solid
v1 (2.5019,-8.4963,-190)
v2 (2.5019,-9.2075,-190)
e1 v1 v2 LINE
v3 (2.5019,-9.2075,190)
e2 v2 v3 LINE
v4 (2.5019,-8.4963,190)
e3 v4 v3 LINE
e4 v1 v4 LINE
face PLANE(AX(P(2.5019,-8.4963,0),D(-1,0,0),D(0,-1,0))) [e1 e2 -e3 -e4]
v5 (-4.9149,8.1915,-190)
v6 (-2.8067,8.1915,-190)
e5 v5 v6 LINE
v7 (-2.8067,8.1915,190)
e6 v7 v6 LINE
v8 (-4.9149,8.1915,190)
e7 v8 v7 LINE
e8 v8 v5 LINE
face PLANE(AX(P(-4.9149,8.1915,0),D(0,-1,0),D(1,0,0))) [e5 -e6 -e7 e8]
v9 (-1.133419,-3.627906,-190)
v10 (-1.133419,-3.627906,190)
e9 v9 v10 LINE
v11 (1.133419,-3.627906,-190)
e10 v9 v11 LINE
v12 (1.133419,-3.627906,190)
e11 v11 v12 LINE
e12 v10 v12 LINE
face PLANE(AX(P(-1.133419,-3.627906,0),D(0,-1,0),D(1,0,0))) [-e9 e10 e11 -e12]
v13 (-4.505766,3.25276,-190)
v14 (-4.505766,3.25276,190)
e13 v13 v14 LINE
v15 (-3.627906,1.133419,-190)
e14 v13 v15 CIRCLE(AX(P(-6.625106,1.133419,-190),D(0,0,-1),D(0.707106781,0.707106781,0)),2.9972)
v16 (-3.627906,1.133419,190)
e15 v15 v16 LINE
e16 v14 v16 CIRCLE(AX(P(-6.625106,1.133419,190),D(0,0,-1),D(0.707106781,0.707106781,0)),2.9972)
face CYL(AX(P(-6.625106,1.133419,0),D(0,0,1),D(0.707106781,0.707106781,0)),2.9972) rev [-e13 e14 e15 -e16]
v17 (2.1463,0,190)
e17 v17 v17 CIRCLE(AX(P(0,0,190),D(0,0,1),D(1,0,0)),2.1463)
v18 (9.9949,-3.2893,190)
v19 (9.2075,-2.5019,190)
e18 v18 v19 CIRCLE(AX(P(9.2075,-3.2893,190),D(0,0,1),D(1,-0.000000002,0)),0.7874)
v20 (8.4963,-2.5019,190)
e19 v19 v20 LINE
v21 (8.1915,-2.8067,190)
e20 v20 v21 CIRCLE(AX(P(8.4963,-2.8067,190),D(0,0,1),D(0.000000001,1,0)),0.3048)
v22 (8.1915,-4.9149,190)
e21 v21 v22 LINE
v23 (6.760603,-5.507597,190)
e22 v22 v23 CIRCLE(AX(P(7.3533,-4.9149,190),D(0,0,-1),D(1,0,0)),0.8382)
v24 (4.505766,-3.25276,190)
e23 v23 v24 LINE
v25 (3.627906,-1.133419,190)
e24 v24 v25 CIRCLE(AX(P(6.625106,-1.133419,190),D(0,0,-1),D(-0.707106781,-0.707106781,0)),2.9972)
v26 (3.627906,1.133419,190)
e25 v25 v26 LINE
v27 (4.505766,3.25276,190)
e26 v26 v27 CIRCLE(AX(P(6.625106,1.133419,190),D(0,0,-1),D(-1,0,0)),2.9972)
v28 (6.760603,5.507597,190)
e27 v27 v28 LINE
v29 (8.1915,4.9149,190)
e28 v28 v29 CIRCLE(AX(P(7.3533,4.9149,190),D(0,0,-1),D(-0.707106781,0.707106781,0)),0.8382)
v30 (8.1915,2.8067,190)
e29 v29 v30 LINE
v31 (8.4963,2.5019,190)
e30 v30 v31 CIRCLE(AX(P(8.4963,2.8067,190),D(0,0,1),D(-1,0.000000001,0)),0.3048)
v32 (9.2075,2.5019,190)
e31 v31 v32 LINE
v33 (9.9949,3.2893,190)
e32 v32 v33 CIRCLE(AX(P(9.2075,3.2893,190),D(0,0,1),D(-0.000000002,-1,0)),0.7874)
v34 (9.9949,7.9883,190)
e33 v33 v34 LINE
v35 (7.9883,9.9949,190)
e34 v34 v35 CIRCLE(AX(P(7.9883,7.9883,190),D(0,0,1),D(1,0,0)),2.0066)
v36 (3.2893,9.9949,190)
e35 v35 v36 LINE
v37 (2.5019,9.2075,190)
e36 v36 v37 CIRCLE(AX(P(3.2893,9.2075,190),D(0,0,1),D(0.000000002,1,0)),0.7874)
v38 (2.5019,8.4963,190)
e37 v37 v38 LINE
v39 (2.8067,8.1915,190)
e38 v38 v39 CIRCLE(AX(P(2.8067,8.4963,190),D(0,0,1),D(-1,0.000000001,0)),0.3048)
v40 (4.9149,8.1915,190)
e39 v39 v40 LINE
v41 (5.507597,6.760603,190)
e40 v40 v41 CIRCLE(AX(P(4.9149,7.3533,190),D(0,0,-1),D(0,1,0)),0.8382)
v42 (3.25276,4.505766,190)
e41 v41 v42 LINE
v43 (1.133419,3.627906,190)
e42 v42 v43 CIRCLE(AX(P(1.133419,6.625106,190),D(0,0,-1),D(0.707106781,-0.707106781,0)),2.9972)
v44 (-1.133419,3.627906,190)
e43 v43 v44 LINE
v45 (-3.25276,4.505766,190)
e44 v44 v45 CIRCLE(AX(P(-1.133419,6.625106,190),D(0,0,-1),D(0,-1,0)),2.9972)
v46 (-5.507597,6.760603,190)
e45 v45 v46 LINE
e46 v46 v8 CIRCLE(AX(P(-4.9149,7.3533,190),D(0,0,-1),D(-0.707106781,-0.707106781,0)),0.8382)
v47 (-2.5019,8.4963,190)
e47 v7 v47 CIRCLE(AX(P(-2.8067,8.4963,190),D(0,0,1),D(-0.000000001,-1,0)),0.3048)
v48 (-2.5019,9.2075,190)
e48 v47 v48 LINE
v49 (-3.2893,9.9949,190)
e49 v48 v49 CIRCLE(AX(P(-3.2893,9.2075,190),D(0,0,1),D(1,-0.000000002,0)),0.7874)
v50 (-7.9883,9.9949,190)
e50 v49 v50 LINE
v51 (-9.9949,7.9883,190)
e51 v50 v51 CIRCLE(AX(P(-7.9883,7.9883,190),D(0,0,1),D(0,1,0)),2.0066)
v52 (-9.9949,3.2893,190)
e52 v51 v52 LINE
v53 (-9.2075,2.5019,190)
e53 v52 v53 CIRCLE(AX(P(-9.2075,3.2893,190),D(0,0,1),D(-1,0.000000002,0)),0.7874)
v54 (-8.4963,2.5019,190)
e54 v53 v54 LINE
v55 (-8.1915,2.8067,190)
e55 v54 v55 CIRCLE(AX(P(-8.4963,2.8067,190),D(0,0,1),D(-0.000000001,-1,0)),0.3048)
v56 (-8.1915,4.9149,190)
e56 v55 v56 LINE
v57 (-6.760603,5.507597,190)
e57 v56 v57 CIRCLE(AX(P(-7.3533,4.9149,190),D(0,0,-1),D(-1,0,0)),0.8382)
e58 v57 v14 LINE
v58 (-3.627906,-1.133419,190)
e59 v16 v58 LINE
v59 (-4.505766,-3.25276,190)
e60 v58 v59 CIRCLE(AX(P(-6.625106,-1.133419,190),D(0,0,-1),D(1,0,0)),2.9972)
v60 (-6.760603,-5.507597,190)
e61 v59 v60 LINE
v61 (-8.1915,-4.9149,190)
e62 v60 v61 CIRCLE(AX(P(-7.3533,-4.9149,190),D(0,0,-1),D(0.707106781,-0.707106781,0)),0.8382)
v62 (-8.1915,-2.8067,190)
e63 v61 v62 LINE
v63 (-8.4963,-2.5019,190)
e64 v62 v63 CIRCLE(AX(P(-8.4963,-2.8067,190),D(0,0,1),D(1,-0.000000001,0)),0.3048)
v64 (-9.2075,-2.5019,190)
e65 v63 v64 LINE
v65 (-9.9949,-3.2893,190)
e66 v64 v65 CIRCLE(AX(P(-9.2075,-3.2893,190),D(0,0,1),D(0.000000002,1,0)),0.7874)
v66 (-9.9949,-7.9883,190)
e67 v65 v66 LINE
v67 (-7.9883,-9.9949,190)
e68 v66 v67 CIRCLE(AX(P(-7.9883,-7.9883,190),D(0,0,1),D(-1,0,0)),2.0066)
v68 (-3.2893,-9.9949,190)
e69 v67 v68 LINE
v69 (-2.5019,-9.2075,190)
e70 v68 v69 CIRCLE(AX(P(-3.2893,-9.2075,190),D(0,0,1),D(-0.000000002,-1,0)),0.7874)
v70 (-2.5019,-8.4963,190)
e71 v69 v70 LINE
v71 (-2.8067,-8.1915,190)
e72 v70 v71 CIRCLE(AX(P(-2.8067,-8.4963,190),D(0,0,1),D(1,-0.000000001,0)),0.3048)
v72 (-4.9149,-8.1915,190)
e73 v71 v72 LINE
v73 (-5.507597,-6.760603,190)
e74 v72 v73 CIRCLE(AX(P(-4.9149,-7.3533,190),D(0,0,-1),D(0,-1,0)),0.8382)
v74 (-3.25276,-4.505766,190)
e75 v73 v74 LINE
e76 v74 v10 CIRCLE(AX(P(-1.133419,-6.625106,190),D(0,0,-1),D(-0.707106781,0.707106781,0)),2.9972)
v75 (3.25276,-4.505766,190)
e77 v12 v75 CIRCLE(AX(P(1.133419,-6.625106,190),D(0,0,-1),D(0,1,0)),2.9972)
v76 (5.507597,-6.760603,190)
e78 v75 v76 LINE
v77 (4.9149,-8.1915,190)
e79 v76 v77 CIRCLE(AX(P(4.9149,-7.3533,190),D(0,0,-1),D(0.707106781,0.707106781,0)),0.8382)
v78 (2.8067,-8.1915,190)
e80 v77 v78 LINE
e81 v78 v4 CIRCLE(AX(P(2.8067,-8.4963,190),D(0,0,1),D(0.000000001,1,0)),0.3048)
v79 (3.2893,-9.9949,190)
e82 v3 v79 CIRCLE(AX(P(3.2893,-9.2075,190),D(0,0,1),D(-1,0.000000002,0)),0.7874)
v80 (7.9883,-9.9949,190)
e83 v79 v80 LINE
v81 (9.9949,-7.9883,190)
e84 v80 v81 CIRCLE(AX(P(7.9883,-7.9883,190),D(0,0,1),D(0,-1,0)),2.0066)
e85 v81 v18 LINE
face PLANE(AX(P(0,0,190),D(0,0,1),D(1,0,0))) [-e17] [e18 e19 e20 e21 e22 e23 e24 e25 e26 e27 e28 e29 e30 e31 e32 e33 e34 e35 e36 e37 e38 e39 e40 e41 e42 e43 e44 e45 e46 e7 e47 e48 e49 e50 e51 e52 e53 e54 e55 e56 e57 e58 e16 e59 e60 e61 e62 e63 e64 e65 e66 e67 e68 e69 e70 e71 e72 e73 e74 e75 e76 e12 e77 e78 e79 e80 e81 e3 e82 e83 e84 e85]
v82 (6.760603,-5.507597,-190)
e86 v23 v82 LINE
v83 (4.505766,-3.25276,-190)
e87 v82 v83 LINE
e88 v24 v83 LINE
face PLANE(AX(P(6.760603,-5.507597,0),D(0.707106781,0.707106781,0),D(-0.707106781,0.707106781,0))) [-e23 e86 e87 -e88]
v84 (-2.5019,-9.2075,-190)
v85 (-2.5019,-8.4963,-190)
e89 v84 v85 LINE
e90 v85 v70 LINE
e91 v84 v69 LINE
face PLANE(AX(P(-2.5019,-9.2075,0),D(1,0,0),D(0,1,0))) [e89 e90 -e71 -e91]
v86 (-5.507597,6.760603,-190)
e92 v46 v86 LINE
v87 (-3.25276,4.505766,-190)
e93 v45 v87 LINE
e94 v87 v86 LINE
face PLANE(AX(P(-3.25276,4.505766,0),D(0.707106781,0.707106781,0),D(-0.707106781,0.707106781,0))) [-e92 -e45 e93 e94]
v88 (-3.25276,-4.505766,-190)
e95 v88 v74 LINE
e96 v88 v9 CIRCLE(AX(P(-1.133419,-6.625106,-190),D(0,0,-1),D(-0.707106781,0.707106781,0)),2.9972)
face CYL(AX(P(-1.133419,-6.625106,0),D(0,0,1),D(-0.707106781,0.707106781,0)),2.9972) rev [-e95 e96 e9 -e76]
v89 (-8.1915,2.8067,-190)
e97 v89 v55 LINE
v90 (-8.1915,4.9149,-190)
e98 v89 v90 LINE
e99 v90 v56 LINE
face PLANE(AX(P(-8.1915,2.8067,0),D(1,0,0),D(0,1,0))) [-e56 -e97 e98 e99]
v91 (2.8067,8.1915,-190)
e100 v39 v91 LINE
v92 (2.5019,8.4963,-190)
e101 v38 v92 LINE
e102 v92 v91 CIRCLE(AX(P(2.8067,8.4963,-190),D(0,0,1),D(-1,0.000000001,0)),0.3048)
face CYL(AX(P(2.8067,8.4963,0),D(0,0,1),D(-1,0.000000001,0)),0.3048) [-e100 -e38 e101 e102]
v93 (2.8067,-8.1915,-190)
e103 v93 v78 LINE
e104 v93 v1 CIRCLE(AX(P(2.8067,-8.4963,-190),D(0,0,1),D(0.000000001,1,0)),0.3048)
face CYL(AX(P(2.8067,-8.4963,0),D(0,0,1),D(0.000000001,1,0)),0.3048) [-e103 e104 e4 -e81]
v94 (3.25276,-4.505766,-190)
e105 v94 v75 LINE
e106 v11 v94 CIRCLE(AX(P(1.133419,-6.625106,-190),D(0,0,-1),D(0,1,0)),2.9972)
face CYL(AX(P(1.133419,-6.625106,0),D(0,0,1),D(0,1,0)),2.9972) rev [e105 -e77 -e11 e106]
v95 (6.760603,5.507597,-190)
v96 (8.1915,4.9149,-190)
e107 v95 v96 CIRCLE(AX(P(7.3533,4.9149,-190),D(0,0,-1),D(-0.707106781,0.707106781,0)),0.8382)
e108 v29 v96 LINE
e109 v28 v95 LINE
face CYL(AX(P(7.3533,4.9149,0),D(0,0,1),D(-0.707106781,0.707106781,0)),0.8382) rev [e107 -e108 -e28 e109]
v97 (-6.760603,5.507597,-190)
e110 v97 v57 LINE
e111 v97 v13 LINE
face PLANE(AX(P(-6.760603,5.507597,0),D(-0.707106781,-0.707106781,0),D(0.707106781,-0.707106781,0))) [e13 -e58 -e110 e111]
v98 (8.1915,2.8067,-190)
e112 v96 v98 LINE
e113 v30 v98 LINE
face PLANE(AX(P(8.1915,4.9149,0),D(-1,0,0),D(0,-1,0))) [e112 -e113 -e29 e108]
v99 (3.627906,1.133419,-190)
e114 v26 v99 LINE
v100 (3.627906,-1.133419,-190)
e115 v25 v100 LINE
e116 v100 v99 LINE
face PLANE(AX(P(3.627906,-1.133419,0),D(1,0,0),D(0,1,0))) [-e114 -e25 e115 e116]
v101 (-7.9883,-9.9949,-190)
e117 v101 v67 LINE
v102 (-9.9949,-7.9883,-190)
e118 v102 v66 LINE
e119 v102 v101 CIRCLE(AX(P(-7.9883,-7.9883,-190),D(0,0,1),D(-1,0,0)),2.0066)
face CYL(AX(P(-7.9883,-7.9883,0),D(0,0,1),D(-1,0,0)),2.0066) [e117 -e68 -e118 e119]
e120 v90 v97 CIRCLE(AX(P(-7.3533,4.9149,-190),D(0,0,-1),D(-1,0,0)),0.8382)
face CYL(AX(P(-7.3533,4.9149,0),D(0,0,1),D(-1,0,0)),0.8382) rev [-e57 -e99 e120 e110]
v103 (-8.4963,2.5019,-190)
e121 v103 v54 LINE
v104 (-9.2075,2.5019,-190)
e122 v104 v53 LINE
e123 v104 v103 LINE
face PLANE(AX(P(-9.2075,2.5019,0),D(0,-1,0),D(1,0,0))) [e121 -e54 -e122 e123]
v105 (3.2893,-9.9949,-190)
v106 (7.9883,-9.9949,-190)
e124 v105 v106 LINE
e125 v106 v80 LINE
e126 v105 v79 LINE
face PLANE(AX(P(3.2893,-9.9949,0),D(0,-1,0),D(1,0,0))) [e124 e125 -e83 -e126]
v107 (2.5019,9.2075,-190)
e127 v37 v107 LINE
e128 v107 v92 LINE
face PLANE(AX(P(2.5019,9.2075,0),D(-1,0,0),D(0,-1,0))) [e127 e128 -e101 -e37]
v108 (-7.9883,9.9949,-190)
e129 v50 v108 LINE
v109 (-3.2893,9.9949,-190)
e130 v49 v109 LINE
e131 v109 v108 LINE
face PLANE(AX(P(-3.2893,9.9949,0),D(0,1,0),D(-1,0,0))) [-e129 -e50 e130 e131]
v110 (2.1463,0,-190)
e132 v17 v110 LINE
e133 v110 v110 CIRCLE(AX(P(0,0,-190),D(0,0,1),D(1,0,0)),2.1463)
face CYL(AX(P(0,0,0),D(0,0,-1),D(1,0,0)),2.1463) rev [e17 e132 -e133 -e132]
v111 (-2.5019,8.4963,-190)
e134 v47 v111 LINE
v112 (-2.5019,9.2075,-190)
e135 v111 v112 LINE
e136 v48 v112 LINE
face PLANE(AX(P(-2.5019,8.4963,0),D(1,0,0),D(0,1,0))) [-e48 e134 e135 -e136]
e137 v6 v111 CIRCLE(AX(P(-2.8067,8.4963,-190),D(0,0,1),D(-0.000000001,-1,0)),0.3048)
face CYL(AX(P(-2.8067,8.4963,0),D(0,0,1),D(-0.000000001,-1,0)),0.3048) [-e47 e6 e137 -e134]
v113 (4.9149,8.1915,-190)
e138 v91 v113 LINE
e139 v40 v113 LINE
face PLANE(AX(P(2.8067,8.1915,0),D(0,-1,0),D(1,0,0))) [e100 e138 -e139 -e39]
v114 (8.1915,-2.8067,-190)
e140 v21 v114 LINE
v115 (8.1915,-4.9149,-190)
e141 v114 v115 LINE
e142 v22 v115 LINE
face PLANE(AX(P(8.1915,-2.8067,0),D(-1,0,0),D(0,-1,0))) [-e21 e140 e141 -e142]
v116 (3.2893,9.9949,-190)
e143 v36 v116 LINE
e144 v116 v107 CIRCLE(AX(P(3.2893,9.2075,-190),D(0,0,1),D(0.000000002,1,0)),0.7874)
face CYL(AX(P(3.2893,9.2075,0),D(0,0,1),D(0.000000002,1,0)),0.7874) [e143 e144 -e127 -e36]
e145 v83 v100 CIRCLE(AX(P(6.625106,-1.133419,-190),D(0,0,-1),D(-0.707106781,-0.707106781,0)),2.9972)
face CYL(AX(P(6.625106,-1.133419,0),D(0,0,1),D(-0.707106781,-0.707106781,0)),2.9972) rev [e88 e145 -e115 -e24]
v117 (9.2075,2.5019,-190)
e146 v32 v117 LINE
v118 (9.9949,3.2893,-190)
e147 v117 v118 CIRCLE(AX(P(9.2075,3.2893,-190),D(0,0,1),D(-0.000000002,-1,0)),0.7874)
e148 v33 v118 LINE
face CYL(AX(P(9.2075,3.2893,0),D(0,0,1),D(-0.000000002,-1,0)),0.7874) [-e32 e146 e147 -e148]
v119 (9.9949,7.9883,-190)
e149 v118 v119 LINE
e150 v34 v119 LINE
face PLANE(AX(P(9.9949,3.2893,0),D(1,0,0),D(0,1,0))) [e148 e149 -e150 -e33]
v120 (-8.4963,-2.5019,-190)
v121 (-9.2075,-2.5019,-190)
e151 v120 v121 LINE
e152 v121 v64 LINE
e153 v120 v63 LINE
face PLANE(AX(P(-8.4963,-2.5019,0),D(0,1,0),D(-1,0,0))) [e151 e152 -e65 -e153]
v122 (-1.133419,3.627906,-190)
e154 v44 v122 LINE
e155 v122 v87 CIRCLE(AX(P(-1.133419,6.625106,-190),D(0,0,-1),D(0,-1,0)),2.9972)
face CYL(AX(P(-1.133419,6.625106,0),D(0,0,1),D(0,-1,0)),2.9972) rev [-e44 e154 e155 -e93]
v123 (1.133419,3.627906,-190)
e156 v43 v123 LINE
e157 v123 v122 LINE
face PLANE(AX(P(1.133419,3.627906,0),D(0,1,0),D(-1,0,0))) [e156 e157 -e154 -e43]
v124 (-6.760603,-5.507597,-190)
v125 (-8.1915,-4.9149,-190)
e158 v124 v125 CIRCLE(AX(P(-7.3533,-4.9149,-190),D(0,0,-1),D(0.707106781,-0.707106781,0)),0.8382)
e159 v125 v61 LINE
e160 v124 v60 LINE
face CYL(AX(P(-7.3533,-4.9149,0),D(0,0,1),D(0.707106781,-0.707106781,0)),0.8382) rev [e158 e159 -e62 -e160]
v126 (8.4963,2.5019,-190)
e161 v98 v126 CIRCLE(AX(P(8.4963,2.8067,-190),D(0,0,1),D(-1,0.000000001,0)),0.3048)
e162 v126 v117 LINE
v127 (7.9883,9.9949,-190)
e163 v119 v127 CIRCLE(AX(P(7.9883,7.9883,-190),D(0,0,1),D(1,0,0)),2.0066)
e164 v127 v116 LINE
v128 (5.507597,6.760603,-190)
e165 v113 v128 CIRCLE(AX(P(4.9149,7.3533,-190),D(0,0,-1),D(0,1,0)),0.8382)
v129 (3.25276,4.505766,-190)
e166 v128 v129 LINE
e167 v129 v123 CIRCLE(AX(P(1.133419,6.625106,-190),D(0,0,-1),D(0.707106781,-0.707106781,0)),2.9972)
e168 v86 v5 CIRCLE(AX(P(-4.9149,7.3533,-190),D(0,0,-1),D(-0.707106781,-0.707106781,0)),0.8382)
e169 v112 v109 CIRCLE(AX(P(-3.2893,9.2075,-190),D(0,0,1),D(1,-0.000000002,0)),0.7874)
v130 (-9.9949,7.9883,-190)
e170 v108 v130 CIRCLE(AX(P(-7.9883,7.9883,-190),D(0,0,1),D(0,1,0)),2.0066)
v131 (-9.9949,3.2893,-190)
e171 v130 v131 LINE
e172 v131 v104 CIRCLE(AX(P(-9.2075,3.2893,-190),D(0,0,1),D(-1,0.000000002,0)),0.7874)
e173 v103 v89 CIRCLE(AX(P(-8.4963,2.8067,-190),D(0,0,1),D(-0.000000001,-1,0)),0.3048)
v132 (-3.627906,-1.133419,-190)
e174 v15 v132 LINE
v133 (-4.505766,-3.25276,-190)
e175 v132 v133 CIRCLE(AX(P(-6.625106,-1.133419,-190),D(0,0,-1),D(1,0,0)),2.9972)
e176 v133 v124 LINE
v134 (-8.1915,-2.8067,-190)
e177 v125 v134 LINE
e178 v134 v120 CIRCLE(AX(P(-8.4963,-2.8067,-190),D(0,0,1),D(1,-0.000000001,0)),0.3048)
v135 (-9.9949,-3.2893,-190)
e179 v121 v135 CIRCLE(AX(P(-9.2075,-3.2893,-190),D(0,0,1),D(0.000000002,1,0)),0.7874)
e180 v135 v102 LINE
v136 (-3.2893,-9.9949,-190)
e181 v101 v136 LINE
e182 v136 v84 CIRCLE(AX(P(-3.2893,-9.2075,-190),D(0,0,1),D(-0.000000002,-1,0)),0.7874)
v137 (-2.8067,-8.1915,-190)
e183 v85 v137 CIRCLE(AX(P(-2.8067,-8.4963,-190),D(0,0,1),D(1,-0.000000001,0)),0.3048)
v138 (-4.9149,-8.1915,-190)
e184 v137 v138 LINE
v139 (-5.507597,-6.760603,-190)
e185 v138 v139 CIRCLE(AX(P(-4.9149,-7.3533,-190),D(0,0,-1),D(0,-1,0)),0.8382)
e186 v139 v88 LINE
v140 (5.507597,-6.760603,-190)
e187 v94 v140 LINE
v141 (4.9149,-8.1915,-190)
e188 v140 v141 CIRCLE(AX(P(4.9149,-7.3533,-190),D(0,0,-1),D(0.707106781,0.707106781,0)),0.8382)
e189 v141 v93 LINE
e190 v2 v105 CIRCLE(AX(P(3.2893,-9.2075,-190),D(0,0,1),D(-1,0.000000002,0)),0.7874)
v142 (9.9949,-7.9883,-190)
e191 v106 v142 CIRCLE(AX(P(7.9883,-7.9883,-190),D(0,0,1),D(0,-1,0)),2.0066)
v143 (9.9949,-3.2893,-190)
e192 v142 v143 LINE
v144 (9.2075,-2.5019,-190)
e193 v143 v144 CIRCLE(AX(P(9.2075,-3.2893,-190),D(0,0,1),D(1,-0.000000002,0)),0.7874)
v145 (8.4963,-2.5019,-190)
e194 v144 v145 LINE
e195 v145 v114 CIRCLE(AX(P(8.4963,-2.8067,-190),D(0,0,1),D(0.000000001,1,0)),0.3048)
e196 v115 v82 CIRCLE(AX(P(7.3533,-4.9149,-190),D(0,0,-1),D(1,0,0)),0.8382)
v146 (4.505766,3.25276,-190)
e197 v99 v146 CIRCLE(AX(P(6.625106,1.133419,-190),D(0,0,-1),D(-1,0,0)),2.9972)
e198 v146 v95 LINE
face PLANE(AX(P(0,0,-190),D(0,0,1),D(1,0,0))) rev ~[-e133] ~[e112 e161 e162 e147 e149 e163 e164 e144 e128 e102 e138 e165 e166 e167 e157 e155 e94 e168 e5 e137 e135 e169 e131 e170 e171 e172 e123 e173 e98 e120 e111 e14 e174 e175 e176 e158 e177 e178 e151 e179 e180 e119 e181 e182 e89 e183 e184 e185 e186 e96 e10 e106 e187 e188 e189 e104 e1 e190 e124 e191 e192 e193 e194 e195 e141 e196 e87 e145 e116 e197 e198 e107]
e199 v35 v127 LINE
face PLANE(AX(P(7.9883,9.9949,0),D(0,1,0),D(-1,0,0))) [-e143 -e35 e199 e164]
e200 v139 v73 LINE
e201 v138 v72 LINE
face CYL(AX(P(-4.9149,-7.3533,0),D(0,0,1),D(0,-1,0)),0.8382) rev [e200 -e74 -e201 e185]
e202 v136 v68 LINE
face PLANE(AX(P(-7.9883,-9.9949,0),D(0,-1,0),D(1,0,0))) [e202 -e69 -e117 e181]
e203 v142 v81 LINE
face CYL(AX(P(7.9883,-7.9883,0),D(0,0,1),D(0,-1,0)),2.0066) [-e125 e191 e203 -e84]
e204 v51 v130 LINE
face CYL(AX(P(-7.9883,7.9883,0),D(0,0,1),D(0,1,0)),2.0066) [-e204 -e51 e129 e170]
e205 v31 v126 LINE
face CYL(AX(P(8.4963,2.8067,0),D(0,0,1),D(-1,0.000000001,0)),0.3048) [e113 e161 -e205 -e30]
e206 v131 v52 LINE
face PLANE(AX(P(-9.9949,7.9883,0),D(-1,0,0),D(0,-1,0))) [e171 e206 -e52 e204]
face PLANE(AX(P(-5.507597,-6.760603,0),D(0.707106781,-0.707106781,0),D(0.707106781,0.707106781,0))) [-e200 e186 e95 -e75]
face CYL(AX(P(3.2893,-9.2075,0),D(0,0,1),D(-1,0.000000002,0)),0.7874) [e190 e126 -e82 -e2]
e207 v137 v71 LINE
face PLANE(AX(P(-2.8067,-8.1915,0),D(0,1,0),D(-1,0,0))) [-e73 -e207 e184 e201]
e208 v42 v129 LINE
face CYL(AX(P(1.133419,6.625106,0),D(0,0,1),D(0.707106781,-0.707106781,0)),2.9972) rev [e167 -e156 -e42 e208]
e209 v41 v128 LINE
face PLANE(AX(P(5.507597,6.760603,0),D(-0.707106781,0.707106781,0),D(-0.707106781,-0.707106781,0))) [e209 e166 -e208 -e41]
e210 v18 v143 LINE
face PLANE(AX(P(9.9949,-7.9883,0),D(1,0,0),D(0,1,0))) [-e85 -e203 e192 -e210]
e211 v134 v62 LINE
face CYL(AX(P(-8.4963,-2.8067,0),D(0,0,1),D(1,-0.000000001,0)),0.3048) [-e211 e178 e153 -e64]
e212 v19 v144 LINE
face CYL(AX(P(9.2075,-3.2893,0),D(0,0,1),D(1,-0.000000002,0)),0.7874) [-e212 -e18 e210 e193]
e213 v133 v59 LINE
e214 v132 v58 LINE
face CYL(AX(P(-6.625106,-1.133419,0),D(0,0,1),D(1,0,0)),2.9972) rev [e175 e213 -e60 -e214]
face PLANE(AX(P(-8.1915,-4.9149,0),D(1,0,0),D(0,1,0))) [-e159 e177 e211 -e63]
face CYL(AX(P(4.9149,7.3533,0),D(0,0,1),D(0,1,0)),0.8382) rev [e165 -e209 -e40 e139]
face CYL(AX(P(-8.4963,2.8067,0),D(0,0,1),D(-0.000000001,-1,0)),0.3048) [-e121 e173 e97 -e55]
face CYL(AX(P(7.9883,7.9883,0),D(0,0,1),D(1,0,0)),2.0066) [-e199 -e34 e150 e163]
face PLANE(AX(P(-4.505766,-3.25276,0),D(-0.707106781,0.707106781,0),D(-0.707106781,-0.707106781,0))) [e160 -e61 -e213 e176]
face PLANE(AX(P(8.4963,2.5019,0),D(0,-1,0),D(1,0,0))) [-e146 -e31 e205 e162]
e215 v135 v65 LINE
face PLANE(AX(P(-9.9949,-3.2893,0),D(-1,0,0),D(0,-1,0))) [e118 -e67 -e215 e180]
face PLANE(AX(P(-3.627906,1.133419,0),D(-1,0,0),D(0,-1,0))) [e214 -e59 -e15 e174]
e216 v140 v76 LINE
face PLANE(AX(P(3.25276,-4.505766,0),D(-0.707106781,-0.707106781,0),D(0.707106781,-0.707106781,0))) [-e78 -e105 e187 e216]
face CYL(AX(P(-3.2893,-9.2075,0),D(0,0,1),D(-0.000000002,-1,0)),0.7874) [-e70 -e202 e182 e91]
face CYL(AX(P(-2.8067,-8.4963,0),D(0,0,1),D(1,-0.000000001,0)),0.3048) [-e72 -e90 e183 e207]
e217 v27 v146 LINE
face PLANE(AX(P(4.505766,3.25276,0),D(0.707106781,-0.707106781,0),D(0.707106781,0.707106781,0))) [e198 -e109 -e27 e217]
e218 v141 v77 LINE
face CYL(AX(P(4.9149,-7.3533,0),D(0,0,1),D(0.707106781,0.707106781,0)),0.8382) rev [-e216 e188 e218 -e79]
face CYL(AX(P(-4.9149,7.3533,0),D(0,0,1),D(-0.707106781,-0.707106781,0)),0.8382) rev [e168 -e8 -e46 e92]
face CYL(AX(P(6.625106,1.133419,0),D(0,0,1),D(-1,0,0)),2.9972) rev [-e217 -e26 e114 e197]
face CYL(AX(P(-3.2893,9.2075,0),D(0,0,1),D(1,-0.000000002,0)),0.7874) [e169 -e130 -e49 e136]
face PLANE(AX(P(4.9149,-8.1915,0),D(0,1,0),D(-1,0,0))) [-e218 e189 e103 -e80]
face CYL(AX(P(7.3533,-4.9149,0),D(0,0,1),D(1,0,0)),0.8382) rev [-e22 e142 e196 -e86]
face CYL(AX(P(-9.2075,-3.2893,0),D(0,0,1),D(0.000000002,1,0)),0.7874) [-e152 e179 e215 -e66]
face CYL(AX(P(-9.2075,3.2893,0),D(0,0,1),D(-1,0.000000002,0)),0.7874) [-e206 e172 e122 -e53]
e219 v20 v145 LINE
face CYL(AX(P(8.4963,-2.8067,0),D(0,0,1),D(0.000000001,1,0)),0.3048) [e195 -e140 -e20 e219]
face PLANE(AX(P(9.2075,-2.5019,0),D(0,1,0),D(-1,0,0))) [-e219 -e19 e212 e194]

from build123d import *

# Parameters (mm, degrees)
SKETCH1_R           = 2.1463
BOSS_EXTRUDE1_DEPTH = 190


with BuildPart() as part:
    # Sketch1 → Boss-Extrude1 (new body, symmetric)
    with BuildSketch(Plane.XY):
        with BuildLine():
            Line((-9.9949, 7.9883), (-9.9949, 3.2893))
            ThreePointArc((-9.9949, 3.2893), (-9.76427588, 2.73252412), (-9.2075, 2.5019))
            Line((-9.2075, 2.5019), (-8.4963, 2.5019))
            ThreePointArc((-8.4963, 2.5019), (-8.280773853, 2.591173853), (-8.1915, 2.8067))
            Line((-8.1915, 2.8067), (-8.1915, 4.9149))
            ThreePointArc((-8.1915, 4.9149), (-7.674065253, 5.689295824), (-6.760603096, 5.507596904))
            Line((-6.760603096, 5.507596904), (-4.505765747, 3.252759555))
            ThreePointArc((-4.505765747, 3.252759555), (-3.856054457, 2.280397894), (-3.627906192, 1.133419111))
            Line((-3.627906192, 1.133419111), (-3.627906192, -1.133419111))
            ThreePointArc((-3.627906192, -1.133419111), (-3.856054457, -2.280397894), (-4.505765747, -3.252759555))
            Line((-4.505765747, -3.252759555), (-6.760603096, -5.507596904))
            ThreePointArc((-6.760603096, -5.507596904), (-7.674065253, -5.689295824), (-8.1915, -4.9149))
            Line((-8.1915, -4.9149), (-8.1915, -2.8067))
            ThreePointArc((-8.1915, -2.8067), (-8.280773853, -2.591173853), (-8.4963, -2.5019))
            Line((-8.4963, -2.5019), (-9.2075, -2.5019))
            ThreePointArc((-9.2075, -2.5019), (-9.76427588, -2.73252412), (-9.9949, -3.2893))
            Line((-9.9949, -3.2893), (-9.9949, -7.9883))
            ThreePointArc((-9.9949, -7.9883), (-9.407180467, -9.407180467), (-7.9883, -9.9949))
            Line((-7.9883, -9.9949), (-3.2893, -9.9949))
            ThreePointArc((-3.2893, -9.9949), (-2.73252412, -9.76427588), (-2.5019, -9.2075))
            Line((-2.5019, -9.2075), (-2.5019, -8.4963))
            ThreePointArc((-2.5019, -8.4963), (-2.591173853, -8.280773853), (-2.8067, -8.1915))
            Line((-2.8067, -8.1915), (-4.9149, -8.1915))
            ThreePointArc((-4.9149, -8.1915), (-5.689295824, -7.674065253), (-5.507596904, -6.760603096))
            Line((-5.507596904, -6.760603096), (-3.252759555, -4.505765747))
            ThreePointArc((-3.252759555, -4.505765747), (-2.280397894, -3.856054457), (-1.133419111, -3.627906192))
            Line((-1.133419111, -3.627906192), (1.133419111, -3.627906192))
            ThreePointArc((1.133419111, -3.627906192), (2.280397894, -3.856054457), (3.252759555, -4.505765747))
            Line((3.252759555, -4.505765747), (5.507596904, -6.760603096))
            ThreePointArc((5.507596904, -6.760603096), (5.689295824, -7.674065253), (4.9149, -8.1915))
            Line((4.9149, -8.1915), (2.8067, -8.1915))
            ThreePointArc((2.8067, -8.1915), (2.591173853, -8.280773853), (2.5019, -8.4963))
            Line((2.5019, -8.4963), (2.5019, -9.2075))
            ThreePointArc((2.5019, -9.2075), (2.73252412, -9.76427588), (3.2893, -9.9949))
            Line((3.2893, -9.9949), (7.9883, -9.9949))
            ThreePointArc((7.9883, -9.9949), (9.407180467, -9.407180467), (9.9949, -7.9883))
            Line((9.9949, -7.9883), (9.9949, -3.2893))
            ThreePointArc((9.9949, -3.2893), (9.76427588, -2.73252412), (9.2075, -2.5019))
            Line((9.2075, -2.5019), (8.4963, -2.5019))
            ThreePointArc((8.4963, -2.5019), (8.280773853, -2.591173853), (8.1915, -2.8067))
            Line((8.1915, -2.8067), (8.1915, -4.9149))
            ThreePointArc((8.1915, -4.9149), (7.674065253, -5.689295824), (6.760603096, -5.507596904))
            Line((6.760603096, -5.507596904), (4.505765747, -3.252759555))
            ThreePointArc((4.505765747, -3.252759555), (3.856054457, -2.280397894), (3.627906192, -1.133419111))
            Line((3.627906192, -1.133419111), (3.627906192, 1.133419111))
            ThreePointArc((3.627906192, 1.133419111), (3.856054457, 2.280397894), (4.505765747, 3.252759555))
            Line((4.505765747, 3.252759555), (6.760603096, 5.507596904))
            ThreePointArc((6.760603096, 5.507596904), (7.674065253, 5.689295824), (8.1915, 4.9149))
            Line((8.1915, 4.9149), (8.1915, 2.8067))
            ThreePointArc((8.1915, 2.8067), (8.280773853, 2.591173853), (8.4963, 2.5019))
            Line((8.4963, 2.5019), (9.2075, 2.5019))
            ThreePointArc((9.2075, 2.5019), (9.76427588, 2.73252412), (9.9949, 3.2893))
            Line((9.9949, 3.2893), (9.9949, 7.9883))
            ThreePointArc((9.9949, 7.9883), (9.407180467, 9.407180467), (7.9883, 9.9949))
            Line((7.9883, 9.9949), (3.2893, 9.9949))
            ThreePointArc((3.2893, 9.9949), (2.73252412, 9.76427588), (2.5019, 9.2075))
            Line((2.5019, 9.2075), (2.5019, 8.4963))
            ThreePointArc((2.5019, 8.4963), (2.591173853, 8.280773853), (2.8067, 8.1915))
            Line((2.8067, 8.1915), (4.9149, 8.1915))
            ThreePointArc((4.9149, 8.1915), (5.689295824, 7.674065253), (5.507596904, 6.760603096))
            Line((5.507596904, 6.760603096), (3.252759555, 4.505765747))
            ThreePointArc((3.252759555, 4.505765747), (2.280397894, 3.856054457), (1.133419111, 3.627906192))
            Line((1.133419111, 3.627906192), (-1.133419111, 3.627906192))
            ThreePointArc((-1.133419111, 3.627906192), (-2.280397894, 3.856054457), (-3.252759555, 4.505765747))
            Line((-3.252759555, 4.505765747), (-5.507596904, 6.760603096))
            ThreePointArc((-5.507596904, 6.760603096), (-5.689295824, 7.674065253), (-4.9149, 8.1915))
            Line((-4.9149, 8.1915), (-2.8067, 8.1915))
            ThreePointArc((-2.8067, 8.1915), (-2.591173853, 8.280773853), (-2.5019, 8.4963))
            Line((-2.5019, 8.4963), (-2.5019, 9.2075))
            ThreePointArc((-2.5019, 9.2075), (-2.73252412, 9.76427588), (-3.2893, 9.9949))
            Line((-3.2893, 9.9949), (-7.9883, 9.9949))
            ThreePointArc((-7.9883, 9.9949), (-9.407180467, 9.407180467), (-9.9949, 7.9883))
        make_face()
        Circle(SKETCH1_R, mode=Mode.SUBTRACT)
    extrude(amount=BOSS_EXTRUDE1_DEPTH, both=True)


solid = part.part
